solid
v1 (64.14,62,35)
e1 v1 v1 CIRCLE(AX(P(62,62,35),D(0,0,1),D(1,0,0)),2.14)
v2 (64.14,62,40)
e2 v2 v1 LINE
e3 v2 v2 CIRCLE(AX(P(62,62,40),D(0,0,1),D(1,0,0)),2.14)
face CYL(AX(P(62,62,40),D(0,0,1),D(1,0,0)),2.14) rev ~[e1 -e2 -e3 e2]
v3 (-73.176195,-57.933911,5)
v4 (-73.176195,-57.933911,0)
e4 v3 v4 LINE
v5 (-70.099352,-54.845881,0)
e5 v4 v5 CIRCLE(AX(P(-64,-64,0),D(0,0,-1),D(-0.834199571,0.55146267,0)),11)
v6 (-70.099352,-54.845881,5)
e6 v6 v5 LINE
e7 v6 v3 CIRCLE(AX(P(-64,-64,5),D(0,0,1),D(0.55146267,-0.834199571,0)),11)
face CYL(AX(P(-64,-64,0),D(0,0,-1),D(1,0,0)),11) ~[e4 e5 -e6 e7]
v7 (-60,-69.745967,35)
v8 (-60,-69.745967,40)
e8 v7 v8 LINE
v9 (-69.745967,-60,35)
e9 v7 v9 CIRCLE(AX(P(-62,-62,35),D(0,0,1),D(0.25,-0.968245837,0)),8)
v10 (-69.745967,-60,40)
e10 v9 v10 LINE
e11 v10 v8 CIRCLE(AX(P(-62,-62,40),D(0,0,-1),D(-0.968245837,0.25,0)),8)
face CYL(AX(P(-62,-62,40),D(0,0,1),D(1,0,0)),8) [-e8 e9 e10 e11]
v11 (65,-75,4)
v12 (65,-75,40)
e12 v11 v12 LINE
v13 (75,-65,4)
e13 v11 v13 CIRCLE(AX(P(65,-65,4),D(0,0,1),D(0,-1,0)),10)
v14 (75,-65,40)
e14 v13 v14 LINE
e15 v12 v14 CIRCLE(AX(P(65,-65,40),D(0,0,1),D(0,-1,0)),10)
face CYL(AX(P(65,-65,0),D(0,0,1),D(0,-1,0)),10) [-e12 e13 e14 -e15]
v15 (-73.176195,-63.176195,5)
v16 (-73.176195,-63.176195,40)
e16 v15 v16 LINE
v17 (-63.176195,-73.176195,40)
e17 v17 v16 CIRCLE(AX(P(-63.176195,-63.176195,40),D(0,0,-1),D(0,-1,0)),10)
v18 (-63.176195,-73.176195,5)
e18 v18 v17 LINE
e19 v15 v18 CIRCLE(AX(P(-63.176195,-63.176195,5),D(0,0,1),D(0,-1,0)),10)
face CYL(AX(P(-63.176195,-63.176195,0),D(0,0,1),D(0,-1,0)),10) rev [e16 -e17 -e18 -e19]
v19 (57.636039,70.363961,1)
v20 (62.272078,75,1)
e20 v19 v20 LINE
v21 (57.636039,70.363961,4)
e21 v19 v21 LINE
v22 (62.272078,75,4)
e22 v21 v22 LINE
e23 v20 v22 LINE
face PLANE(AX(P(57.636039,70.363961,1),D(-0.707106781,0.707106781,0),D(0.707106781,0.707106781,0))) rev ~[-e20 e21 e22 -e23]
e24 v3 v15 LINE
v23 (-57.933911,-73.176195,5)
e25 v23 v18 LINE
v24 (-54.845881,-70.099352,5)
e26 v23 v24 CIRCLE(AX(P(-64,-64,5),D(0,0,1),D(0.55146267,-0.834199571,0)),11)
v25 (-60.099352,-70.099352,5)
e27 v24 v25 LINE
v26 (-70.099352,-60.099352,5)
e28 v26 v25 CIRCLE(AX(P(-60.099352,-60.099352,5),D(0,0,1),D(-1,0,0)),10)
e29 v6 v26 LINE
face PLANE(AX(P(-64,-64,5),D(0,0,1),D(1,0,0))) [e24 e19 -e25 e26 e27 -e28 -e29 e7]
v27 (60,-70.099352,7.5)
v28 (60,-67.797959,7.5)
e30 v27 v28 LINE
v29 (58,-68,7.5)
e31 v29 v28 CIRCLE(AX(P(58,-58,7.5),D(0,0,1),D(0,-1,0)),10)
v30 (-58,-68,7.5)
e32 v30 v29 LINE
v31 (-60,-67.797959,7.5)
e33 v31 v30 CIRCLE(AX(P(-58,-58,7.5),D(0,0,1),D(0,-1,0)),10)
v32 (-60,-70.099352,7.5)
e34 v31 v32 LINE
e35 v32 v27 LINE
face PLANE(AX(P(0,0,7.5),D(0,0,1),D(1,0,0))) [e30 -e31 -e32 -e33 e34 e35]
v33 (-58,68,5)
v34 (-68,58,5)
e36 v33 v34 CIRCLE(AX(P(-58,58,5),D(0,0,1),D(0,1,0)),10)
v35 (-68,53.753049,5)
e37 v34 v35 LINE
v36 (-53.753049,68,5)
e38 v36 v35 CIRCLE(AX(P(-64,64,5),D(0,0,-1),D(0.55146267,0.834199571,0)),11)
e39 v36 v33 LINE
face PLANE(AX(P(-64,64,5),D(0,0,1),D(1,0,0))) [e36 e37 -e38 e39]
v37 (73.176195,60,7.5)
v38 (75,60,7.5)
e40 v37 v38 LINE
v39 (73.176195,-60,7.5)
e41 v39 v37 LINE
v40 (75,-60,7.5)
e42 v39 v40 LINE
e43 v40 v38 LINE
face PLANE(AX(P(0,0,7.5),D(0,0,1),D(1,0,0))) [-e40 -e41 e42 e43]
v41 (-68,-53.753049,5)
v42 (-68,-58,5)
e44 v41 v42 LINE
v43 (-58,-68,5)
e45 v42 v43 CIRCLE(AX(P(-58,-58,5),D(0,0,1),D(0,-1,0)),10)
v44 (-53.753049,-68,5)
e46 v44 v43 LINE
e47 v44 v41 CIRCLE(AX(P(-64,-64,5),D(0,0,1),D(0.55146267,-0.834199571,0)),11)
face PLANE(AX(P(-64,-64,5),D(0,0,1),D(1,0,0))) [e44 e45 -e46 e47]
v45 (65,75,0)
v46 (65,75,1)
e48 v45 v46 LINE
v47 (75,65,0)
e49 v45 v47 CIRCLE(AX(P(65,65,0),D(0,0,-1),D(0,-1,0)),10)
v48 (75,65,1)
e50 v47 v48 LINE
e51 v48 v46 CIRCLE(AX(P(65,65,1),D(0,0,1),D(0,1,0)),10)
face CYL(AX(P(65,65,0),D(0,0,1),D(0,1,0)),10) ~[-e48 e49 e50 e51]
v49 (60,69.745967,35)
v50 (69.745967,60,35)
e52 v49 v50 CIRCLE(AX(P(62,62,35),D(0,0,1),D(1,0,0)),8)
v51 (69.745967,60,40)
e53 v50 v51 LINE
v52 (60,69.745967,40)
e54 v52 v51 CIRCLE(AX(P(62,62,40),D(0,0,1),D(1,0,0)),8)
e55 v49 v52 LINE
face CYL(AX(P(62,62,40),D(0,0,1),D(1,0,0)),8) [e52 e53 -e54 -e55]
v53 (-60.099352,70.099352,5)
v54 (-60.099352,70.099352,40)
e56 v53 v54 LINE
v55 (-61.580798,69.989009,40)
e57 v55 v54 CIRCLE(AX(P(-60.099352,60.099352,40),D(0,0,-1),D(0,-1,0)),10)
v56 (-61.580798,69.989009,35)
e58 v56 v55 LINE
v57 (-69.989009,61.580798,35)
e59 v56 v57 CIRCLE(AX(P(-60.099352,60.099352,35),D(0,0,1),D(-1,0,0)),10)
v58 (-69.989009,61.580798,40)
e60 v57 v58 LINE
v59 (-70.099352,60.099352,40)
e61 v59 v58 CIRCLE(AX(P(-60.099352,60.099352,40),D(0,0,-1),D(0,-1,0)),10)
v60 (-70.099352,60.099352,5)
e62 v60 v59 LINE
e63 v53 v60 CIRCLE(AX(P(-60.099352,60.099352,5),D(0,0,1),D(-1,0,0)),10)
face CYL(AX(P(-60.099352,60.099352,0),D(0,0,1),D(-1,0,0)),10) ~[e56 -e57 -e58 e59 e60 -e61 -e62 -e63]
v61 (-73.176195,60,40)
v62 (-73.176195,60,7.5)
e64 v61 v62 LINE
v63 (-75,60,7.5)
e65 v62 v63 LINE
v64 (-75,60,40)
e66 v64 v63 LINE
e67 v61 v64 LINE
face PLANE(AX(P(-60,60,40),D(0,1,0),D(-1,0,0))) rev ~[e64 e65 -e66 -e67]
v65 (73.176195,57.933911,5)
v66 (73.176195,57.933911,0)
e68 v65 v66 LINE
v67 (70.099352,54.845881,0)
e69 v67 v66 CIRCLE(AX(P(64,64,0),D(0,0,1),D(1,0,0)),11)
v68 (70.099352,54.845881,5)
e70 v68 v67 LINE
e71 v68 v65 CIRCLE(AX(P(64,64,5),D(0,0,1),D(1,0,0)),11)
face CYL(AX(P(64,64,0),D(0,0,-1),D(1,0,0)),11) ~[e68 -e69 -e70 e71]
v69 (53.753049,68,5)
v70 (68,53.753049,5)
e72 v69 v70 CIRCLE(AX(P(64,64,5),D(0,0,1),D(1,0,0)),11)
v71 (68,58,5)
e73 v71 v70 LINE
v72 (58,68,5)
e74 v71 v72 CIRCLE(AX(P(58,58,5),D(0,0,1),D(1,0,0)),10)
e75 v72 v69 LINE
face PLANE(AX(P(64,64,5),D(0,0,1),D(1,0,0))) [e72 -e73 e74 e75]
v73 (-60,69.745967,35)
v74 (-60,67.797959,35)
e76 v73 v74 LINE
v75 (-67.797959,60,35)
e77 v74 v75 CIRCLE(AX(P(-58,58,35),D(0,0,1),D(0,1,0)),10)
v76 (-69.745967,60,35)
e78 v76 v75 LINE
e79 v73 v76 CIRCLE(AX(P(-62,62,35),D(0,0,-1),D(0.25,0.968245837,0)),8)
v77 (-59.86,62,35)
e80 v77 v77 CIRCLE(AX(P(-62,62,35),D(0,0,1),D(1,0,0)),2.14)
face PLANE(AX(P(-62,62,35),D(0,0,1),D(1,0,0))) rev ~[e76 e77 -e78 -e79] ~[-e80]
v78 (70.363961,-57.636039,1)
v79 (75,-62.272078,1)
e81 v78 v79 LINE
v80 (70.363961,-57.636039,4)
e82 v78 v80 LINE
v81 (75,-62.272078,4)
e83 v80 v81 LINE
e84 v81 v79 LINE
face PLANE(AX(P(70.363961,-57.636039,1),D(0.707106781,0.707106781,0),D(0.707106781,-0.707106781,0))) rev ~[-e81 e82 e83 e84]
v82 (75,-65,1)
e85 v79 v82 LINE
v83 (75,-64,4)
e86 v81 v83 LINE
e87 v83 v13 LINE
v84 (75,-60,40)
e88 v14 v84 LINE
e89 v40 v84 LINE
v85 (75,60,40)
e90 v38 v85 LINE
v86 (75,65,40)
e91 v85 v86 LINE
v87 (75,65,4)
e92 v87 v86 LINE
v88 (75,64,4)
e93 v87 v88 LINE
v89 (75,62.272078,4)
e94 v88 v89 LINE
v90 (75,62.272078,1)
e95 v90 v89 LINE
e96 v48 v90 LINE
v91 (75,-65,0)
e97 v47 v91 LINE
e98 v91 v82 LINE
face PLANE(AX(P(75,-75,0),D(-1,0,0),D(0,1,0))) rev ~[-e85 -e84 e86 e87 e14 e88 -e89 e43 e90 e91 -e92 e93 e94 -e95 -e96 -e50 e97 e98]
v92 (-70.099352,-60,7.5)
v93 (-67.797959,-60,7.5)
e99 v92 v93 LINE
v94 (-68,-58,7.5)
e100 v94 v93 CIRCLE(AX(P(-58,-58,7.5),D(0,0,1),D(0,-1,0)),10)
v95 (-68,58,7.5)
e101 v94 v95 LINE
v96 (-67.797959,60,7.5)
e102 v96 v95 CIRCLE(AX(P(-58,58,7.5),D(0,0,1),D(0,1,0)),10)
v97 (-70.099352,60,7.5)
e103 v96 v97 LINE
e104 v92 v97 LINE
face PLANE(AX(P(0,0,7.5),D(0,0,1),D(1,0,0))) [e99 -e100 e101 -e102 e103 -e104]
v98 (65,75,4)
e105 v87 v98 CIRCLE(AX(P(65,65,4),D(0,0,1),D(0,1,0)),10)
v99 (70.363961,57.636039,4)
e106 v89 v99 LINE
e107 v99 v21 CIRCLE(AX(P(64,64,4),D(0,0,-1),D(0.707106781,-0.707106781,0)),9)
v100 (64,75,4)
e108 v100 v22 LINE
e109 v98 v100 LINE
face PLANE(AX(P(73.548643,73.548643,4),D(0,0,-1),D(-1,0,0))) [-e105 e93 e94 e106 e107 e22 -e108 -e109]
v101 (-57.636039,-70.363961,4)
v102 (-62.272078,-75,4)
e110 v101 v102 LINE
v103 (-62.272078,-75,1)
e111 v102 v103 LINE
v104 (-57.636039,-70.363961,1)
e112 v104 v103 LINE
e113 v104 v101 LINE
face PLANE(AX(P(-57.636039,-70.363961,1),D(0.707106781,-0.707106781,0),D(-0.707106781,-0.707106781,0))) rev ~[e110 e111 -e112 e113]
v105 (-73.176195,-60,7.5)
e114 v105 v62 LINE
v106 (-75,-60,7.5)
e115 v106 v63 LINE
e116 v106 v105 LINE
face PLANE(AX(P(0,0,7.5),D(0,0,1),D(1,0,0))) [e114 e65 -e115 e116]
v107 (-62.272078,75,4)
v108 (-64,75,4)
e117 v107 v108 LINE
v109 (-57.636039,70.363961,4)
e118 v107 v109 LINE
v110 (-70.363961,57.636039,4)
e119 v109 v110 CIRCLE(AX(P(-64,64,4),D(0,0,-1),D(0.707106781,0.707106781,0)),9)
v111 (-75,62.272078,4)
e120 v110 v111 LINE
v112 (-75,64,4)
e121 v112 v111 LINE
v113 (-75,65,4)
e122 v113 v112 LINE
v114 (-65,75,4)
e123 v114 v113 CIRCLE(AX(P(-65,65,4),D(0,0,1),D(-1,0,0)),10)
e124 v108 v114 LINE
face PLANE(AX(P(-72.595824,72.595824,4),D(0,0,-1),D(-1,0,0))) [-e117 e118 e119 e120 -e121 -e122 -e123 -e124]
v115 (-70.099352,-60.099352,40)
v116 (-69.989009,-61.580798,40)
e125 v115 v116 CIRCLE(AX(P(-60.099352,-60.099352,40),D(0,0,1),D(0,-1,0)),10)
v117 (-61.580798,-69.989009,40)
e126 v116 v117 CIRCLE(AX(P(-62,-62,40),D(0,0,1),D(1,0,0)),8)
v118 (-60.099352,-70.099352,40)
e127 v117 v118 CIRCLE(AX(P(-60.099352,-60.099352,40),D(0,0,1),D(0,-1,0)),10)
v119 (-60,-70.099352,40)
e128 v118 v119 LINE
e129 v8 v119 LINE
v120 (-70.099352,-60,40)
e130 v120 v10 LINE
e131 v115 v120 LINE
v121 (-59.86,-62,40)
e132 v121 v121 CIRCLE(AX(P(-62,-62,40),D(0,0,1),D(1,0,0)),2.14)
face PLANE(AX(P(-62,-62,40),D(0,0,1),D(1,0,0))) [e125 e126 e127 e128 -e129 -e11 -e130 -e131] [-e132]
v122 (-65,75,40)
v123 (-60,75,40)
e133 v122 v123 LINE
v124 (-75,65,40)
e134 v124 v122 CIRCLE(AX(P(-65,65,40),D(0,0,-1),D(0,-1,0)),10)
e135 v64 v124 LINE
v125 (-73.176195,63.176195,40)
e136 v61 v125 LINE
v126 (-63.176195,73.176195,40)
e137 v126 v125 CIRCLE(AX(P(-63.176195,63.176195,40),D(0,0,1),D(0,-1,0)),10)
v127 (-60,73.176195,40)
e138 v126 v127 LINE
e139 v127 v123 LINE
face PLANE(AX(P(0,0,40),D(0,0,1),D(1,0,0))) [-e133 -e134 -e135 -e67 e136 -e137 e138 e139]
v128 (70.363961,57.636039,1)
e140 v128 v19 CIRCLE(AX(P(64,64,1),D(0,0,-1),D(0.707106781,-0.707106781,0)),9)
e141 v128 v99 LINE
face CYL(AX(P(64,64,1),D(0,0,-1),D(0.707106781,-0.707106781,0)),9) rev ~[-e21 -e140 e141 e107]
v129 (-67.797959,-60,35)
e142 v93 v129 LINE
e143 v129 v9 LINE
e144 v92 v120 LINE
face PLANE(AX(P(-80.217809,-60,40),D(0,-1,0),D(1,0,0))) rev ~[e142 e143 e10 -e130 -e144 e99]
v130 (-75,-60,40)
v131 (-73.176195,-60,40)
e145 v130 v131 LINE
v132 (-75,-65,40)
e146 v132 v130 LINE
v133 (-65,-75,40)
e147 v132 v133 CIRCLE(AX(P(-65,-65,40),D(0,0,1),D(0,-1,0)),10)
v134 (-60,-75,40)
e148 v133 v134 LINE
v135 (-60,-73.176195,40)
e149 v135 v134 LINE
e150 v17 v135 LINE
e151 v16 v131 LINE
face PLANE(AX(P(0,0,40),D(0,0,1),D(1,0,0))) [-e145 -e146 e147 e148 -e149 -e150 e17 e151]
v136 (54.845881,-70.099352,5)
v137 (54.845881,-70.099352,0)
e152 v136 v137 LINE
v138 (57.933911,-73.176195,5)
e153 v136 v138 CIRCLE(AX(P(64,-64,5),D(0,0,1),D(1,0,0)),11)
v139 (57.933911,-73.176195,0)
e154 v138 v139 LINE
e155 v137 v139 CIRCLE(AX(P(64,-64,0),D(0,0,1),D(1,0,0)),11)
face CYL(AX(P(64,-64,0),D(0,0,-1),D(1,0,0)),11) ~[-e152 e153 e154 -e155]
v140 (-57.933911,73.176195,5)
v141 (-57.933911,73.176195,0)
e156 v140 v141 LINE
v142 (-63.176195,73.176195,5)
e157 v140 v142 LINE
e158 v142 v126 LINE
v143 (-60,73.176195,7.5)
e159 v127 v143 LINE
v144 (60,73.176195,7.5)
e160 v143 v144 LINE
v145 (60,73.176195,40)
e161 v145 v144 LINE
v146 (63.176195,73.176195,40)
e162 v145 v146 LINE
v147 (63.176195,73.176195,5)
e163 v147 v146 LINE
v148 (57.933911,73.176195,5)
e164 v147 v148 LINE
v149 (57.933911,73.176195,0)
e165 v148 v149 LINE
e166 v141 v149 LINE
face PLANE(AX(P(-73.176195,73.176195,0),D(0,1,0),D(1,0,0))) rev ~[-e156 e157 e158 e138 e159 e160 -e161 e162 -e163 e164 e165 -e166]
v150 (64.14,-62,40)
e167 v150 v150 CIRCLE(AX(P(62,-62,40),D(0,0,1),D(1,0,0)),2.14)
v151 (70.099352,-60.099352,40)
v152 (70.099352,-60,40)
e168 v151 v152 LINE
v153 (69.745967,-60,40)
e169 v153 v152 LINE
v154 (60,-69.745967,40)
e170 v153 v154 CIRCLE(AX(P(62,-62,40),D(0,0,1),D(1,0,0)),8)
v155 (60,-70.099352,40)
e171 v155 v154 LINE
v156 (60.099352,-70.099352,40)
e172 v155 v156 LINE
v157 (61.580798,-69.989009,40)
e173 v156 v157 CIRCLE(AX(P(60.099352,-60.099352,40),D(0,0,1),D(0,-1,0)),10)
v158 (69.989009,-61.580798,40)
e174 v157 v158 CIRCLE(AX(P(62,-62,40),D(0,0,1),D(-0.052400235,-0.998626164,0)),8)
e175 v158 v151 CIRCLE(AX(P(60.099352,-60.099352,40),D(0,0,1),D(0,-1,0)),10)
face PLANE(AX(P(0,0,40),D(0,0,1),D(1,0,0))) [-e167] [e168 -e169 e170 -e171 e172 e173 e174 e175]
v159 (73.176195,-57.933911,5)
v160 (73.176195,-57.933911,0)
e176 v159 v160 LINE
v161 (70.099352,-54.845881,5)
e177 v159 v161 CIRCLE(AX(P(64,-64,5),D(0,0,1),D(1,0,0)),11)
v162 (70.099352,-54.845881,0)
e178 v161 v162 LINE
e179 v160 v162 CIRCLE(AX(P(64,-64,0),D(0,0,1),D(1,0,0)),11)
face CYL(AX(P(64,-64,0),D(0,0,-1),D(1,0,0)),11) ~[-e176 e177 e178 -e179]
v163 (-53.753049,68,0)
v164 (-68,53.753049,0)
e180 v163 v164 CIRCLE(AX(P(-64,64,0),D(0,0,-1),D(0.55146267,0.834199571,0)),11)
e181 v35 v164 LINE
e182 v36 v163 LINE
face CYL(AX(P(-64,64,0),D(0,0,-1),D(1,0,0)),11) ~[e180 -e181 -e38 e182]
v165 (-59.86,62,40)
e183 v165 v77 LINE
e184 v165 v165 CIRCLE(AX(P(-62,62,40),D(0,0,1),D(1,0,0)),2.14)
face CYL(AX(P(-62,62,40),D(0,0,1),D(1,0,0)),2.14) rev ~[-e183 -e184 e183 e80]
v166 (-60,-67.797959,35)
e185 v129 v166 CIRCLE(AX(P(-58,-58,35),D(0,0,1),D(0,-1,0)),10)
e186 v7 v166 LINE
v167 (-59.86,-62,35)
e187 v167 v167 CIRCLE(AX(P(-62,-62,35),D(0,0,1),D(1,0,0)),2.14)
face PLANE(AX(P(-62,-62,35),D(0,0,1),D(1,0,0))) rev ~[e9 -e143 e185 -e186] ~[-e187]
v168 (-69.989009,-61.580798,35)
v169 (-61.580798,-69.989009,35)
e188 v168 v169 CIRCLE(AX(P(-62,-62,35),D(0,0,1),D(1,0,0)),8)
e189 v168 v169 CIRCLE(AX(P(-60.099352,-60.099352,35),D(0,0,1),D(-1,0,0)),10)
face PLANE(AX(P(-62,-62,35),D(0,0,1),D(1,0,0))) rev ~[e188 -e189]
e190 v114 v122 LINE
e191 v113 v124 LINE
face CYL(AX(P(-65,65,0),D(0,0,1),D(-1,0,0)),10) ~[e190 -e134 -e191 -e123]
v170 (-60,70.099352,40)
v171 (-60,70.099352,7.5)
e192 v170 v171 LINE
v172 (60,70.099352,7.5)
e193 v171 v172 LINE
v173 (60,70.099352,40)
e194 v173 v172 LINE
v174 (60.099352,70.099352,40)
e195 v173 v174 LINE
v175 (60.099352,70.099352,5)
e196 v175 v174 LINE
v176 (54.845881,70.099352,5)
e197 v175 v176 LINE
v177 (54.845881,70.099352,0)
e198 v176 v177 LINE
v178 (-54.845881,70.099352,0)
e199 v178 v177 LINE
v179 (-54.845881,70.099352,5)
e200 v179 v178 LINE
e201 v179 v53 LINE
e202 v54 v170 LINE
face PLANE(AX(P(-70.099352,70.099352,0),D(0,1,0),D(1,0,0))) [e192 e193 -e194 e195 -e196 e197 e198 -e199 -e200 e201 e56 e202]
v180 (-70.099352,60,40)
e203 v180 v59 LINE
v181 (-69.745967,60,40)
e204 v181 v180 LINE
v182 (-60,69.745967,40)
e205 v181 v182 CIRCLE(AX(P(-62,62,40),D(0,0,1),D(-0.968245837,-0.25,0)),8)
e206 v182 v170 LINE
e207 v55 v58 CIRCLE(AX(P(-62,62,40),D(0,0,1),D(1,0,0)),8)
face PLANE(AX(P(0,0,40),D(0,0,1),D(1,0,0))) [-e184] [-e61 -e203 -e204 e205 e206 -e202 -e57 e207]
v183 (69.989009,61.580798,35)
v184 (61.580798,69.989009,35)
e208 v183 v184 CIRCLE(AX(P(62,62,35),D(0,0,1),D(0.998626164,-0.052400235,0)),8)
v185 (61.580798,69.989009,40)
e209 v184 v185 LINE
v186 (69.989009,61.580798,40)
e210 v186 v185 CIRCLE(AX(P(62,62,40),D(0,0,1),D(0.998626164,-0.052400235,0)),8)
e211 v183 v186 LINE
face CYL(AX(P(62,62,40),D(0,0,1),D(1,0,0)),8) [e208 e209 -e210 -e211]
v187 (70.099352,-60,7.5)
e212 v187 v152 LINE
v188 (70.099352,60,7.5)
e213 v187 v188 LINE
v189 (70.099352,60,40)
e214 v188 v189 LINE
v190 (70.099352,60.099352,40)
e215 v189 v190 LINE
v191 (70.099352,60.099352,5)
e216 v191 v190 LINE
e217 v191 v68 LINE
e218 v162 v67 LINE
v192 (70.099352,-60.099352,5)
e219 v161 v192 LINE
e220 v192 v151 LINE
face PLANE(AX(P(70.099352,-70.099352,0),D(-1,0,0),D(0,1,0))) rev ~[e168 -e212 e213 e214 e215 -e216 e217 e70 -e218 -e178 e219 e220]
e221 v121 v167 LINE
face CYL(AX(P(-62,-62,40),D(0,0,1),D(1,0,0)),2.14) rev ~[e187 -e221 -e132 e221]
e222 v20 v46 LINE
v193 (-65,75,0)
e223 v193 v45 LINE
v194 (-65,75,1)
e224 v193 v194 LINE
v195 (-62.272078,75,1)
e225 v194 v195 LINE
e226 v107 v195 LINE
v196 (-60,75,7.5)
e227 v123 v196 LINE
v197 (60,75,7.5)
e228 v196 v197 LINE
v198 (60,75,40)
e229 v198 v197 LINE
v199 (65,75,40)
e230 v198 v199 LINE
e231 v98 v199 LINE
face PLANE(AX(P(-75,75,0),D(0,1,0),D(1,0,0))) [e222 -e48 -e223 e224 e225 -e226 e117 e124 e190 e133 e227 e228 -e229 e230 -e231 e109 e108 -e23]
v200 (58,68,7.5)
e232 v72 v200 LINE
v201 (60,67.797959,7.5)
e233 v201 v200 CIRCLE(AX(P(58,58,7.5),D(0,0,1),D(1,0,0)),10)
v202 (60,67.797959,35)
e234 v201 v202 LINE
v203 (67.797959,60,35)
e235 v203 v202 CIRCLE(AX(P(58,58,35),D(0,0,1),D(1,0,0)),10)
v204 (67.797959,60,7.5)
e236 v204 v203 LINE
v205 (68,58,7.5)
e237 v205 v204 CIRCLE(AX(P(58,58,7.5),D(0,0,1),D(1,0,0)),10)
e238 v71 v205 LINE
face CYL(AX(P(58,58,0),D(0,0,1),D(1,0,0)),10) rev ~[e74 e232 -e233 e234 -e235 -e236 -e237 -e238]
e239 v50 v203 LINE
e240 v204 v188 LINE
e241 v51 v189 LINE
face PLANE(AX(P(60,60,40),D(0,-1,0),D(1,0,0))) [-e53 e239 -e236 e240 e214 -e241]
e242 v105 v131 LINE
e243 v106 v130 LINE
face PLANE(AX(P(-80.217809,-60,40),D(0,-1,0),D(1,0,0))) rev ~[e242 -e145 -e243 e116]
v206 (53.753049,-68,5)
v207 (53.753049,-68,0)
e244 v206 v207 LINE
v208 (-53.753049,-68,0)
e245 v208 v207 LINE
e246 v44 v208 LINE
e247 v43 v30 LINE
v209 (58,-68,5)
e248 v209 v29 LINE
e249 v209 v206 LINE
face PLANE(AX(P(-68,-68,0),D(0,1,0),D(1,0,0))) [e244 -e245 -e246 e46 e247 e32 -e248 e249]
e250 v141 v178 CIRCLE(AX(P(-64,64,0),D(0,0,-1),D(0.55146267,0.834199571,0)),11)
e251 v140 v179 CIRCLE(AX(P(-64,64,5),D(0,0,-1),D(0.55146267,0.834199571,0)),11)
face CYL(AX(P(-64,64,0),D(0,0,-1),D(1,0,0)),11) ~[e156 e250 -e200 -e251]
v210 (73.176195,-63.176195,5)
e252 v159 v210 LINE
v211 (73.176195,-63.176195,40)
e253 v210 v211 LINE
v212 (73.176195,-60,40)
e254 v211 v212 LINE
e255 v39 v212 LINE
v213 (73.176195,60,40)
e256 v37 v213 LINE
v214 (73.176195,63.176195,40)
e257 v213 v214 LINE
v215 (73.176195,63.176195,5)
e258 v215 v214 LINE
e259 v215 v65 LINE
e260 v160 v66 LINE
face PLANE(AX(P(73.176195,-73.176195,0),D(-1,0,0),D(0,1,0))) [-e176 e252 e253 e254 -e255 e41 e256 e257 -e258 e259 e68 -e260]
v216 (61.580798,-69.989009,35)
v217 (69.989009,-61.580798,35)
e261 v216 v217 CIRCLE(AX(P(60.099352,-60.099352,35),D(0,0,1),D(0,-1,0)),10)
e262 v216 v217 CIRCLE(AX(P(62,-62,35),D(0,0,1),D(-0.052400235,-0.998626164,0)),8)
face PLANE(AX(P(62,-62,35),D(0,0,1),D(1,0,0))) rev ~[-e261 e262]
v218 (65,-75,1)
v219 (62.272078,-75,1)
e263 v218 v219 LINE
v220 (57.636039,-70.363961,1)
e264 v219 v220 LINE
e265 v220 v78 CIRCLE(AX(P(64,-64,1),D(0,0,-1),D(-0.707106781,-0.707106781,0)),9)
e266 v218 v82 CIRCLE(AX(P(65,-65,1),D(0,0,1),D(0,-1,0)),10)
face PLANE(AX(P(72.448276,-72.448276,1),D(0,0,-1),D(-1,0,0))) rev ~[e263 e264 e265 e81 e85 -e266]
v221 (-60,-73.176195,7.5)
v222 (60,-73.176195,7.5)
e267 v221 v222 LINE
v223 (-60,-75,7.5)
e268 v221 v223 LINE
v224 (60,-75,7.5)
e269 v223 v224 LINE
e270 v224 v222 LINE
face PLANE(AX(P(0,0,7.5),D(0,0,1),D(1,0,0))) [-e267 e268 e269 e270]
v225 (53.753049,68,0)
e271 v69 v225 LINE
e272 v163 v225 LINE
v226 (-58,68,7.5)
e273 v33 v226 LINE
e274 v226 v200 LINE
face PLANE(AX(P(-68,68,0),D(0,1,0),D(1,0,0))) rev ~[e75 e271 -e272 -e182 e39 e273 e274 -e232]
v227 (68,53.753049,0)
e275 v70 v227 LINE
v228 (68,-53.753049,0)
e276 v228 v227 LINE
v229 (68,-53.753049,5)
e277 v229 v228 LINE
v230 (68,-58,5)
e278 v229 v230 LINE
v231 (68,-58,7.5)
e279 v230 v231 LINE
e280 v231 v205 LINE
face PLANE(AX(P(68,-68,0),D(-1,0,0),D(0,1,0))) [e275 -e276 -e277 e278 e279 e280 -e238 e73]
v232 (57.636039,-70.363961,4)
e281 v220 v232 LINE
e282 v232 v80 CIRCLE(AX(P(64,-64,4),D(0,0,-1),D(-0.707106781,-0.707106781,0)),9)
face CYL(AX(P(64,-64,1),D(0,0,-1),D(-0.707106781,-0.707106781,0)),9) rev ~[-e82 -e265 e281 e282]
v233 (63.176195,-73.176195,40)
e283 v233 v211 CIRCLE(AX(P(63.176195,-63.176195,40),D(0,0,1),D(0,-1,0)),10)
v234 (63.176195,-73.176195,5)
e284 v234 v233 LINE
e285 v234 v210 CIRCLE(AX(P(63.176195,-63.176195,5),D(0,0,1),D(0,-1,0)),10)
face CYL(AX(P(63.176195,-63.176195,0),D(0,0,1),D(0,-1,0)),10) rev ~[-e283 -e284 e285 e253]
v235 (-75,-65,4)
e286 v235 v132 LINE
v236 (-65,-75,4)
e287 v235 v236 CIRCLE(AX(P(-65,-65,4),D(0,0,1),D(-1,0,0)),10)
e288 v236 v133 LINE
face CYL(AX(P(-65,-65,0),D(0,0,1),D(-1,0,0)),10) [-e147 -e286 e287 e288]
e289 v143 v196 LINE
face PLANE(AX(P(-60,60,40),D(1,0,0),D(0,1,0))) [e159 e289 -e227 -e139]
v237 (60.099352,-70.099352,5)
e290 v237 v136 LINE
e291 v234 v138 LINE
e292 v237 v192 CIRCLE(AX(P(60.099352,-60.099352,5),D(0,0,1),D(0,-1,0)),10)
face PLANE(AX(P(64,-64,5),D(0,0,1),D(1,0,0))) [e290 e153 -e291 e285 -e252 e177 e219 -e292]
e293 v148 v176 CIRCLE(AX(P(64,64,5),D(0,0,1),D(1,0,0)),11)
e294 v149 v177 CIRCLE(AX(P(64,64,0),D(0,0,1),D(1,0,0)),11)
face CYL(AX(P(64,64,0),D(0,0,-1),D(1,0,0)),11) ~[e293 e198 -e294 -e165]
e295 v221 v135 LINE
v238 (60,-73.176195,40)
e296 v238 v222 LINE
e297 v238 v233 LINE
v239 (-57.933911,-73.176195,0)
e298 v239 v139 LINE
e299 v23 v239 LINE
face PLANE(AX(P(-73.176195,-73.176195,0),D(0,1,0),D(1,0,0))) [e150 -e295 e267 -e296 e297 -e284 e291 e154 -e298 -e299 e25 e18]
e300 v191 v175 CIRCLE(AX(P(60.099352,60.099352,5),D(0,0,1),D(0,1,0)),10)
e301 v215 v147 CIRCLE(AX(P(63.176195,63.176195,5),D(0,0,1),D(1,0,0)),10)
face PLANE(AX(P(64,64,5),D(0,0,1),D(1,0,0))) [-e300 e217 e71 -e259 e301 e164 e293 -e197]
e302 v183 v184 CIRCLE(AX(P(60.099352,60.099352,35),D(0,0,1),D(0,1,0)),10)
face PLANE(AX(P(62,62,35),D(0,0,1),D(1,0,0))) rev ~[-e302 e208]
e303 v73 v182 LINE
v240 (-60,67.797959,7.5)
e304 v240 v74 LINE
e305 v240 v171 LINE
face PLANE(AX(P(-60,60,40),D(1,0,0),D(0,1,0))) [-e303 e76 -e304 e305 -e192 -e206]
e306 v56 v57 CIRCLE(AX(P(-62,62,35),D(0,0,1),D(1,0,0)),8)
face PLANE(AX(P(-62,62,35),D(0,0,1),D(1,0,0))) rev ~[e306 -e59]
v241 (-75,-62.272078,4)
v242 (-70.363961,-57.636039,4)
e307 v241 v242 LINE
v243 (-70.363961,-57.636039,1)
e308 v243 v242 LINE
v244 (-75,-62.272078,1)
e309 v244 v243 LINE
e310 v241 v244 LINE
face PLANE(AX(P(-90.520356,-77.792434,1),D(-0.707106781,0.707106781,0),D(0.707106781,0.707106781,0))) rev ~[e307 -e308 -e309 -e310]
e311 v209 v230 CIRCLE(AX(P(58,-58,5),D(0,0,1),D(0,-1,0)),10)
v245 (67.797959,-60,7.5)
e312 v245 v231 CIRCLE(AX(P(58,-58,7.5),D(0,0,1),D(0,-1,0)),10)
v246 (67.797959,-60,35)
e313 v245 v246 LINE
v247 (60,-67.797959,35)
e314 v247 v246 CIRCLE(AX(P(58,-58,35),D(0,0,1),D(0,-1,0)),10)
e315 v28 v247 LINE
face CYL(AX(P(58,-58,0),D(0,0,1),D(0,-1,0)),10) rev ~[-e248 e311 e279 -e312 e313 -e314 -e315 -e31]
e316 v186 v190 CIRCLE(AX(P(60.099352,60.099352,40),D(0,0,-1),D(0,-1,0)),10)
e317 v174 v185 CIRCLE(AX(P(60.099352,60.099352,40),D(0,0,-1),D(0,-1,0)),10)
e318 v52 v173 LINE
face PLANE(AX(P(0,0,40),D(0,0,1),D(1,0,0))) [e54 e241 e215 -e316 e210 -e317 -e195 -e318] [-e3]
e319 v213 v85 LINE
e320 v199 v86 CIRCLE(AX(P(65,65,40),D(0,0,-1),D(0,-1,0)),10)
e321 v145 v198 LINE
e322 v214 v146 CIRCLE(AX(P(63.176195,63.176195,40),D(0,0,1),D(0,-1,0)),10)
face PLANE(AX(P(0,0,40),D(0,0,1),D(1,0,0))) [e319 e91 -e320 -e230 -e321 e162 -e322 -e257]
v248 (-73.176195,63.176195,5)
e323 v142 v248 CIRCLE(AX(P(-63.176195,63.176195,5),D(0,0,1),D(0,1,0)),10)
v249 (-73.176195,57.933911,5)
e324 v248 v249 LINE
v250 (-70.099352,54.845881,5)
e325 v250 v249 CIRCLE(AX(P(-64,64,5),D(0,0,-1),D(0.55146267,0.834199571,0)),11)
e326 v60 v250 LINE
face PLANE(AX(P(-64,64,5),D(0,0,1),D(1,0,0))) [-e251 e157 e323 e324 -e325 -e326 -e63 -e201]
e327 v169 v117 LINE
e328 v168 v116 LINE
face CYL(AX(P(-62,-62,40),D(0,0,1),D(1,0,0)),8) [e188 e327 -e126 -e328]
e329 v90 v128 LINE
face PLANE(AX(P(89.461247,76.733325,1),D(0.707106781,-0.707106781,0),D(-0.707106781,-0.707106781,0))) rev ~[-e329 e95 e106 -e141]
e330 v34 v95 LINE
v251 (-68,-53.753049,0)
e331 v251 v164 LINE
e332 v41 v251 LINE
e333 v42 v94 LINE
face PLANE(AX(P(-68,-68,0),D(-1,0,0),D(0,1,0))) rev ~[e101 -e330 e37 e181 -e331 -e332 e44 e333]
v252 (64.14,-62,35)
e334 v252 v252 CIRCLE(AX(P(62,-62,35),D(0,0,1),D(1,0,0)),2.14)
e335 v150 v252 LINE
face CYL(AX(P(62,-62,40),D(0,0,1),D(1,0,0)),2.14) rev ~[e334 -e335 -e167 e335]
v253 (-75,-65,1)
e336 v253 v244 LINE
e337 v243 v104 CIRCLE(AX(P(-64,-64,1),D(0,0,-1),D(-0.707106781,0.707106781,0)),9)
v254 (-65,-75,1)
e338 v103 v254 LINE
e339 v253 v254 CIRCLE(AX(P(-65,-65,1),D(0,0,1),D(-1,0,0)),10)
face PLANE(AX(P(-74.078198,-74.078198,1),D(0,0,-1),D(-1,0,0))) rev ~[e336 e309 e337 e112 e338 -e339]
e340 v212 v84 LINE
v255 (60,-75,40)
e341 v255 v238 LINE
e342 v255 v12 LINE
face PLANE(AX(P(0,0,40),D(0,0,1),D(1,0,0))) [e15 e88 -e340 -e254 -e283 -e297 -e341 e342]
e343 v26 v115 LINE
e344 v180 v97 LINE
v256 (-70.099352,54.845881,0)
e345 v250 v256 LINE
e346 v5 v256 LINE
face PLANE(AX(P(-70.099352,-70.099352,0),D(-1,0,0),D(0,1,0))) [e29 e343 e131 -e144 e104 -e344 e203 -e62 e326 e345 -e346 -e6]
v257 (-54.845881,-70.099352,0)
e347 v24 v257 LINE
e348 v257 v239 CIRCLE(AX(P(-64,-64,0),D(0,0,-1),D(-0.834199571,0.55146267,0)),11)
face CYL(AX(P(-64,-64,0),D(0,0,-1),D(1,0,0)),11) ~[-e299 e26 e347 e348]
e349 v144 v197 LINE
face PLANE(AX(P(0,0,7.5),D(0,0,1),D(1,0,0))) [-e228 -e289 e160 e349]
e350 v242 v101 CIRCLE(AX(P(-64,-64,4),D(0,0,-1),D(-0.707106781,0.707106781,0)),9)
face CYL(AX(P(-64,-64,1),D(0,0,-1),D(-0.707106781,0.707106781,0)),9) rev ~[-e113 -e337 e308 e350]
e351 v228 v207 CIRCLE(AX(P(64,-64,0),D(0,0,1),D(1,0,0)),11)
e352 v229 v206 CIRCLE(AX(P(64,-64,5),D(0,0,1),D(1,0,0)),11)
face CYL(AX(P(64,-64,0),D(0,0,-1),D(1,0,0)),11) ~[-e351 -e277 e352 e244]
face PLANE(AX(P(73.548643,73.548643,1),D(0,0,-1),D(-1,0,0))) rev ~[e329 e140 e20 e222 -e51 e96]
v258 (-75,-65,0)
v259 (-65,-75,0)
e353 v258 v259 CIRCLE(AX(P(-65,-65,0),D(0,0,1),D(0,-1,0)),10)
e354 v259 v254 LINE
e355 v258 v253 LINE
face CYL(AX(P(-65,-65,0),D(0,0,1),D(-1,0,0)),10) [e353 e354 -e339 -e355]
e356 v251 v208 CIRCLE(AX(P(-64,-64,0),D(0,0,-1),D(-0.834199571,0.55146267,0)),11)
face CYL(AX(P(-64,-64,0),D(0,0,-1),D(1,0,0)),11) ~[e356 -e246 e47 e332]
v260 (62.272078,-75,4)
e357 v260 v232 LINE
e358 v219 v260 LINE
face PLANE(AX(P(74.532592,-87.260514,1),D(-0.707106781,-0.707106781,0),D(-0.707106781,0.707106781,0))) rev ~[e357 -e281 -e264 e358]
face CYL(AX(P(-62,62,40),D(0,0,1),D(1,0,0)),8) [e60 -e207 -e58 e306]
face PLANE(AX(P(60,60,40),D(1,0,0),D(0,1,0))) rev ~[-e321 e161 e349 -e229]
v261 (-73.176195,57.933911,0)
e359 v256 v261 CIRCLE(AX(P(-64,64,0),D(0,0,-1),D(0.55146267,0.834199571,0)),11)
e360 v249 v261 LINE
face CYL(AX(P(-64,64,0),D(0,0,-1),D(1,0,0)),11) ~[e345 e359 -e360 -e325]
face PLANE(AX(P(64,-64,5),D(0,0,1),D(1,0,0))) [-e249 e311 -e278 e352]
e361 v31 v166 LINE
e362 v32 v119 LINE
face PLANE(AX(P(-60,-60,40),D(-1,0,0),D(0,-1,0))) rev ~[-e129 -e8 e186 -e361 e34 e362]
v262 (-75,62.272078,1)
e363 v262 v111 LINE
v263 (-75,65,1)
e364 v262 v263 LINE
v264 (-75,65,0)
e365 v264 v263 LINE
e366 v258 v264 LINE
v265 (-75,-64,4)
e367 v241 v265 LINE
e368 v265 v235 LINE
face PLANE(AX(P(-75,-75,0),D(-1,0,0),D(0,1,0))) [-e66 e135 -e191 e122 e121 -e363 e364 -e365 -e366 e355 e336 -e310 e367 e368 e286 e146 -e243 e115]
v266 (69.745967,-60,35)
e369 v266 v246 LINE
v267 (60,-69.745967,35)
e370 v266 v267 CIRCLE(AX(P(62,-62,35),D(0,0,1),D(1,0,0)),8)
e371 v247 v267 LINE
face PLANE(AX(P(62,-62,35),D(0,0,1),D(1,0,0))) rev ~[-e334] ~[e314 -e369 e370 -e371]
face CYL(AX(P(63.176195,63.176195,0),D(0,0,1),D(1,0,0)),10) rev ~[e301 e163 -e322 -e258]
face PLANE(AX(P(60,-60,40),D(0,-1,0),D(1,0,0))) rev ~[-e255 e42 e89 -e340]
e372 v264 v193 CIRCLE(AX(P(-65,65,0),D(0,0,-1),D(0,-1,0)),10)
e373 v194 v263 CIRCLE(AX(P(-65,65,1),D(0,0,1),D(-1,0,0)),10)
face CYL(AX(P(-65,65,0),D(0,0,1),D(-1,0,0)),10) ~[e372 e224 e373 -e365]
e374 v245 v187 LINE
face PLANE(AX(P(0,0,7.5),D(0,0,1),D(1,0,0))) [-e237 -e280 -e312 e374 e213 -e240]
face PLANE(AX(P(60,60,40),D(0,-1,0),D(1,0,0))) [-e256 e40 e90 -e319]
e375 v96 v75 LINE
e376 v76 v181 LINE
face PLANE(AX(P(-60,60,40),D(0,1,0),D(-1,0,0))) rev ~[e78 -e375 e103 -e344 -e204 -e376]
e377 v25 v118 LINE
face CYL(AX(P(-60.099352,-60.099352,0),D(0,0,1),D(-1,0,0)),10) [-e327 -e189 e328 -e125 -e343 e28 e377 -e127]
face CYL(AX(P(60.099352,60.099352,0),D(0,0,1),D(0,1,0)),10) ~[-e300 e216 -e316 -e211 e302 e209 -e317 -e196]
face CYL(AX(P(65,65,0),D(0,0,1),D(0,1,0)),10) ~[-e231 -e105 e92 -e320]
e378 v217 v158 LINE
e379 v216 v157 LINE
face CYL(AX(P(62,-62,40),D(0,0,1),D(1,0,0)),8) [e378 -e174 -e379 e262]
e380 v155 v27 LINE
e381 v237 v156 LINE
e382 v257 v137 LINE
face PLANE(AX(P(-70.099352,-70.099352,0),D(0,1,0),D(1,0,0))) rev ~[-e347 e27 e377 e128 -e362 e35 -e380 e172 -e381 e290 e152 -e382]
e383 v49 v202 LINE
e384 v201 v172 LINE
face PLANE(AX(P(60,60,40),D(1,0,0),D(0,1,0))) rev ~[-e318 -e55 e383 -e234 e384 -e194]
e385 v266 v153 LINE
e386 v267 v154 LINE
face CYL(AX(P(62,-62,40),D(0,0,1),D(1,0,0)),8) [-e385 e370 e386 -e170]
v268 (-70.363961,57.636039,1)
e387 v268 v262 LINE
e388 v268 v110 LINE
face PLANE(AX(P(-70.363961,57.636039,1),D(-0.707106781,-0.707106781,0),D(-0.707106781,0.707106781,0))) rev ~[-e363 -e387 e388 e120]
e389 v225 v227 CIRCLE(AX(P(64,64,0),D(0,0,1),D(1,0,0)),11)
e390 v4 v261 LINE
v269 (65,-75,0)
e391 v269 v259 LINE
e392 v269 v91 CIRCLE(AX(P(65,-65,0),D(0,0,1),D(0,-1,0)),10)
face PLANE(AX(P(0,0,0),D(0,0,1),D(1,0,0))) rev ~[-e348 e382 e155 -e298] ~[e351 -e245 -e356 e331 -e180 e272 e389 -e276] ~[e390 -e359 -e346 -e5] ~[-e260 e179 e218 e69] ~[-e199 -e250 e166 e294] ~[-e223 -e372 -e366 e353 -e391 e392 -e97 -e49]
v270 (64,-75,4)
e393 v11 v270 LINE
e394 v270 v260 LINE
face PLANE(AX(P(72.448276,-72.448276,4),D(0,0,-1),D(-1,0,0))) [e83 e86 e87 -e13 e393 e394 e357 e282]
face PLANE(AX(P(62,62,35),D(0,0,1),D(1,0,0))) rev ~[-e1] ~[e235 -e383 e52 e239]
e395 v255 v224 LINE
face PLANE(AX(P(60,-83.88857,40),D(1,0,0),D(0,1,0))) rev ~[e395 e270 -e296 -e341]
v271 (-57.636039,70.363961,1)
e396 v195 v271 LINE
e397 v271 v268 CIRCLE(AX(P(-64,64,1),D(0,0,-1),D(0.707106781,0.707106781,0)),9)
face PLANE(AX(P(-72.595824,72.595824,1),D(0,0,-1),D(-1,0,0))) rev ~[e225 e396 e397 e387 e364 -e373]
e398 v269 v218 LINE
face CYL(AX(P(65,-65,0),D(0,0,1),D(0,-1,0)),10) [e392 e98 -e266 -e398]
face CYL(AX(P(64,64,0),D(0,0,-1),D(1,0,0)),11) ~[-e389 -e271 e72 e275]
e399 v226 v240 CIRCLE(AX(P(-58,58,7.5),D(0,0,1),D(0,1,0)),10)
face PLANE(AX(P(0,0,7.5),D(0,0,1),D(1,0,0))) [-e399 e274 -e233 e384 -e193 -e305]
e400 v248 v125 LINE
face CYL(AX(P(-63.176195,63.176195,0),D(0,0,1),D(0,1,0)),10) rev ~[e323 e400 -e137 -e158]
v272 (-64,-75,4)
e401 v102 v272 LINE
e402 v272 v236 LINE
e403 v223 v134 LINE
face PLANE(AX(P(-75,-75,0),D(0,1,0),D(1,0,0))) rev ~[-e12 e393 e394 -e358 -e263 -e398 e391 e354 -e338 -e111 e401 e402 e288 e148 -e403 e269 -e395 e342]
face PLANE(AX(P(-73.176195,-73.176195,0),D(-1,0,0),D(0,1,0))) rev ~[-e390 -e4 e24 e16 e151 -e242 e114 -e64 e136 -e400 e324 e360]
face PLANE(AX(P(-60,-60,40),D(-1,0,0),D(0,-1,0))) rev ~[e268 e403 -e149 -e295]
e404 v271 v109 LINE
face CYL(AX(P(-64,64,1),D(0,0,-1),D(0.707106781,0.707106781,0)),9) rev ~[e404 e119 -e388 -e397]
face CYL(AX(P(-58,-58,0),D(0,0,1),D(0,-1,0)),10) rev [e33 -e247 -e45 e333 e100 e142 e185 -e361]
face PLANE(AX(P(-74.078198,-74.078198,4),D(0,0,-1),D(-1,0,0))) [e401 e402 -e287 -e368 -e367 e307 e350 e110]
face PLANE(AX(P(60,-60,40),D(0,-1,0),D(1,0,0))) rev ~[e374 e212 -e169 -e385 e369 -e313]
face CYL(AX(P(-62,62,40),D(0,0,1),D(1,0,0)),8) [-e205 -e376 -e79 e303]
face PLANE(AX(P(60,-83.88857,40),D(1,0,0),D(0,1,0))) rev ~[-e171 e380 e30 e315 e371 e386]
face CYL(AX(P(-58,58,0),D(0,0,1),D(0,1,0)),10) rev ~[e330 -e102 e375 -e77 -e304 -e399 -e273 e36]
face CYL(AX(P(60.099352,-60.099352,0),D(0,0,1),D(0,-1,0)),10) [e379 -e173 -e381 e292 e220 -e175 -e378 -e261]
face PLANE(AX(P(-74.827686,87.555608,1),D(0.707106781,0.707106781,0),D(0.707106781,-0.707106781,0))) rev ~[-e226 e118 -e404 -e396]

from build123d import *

# Parameters (mm, degrees)
SKETCH1_R             = 11
BOSS_EXTRUDE1_DEPTH   = 5
BOSS_EXTRUDE1_2_DEPTH = 5
BOSS_EXTRUDE1_3_DEPTH = 5
BOSS_EXTRUDE1_4_DEPTH = 5
BOSS_EXTRUDE2_START   = 1
BOSS_EXTRUDE2_DEPTH   = 3
BOSS_EXTRUDE2_2_DEPTH = 3
BOSS_EXTRUDE2_3_DEPTH = 3
BOSS_EXTRUDE2_4_DEPTH = 3
SKETCH3_W             = 150
SKETCH3_H             = 150
SKETCH3_W_2           = 146.352390556
SKETCH3_H_2           = 146.352390556
BOSS_EXTRUDE4_DEPTH   = 40
SKETCH3_W_3           = 140.198704382
SKETCH3_H_3           = 140.198704382
SKETCH3_W_4           = 136
SKETCH3_H_4           = 136
BOSS_EXTRUDE4_2_DEPTH = 40
FILLET1_R             = 10
FILLET2_R             = 10
BOSS_EXTRUDE6_START   = 40
SKETCH6_W             = 120
SKETCH6_H             = 120
SKETCH6_H_2           = 23.888569694
SKETCH6_W_2           = 20.217809466
BOSS_EXTRUDE6_DEPTH   = 32.5
SKETCH7_R             = 8
SKETCH7_R_2           = 2.14
BOSS_EXTRUDE7_DEPTH   = 5


with BuildPart() as part:
    # Sketch1 → Boss-Extrude1 (new body)
    with BuildSketch(Plane.XY):
        with Locations((-64, -64)):
            Circle(SKETCH1_R)
    extrude(amount=BOSS_EXTRUDE1_DEPTH)


with BuildPart() as body_2:
    # Sketch1 → Boss-Extrude1 2 (new body)
    with BuildSketch(Plane.XY):
        with Locations((-64, 64)):
            Circle(SKETCH1_R)
    extrude(amount=BOSS_EXTRUDE1_2_DEPTH)


with BuildPart() as body_3:
    # Sketch1 → Boss-Extrude1 3 (new body)
    with BuildSketch(Plane.XY):
        with Locations((64, -64)):
            Circle(SKETCH1_R)
    extrude(amount=BOSS_EXTRUDE1_3_DEPTH)


with BuildPart() as body_4:
    # Sketch1 → Boss-Extrude1 4 (new body)
    with BuildSketch(Plane.XY):
        with Locations((64, 64)):
            Circle(SKETCH1_R)
    extrude(amount=BOSS_EXTRUDE1_4_DEPTH)


with BuildPart() as body_5:
    # Sketch2 → Boss-Extrude2 (new body)
    with BuildSketch(Plane.XY.offset(BOSS_EXTRUDE2_START)):
        with BuildLine():
            Line((-57.636038969, -70.363961031), (-77.792434068, -90.52035613))
            ThreePointArc((-77.792434068, -90.52035613), (-90.52035613, -90.52035613), (-90.52035613, -77.792434068))
            Line((-90.52035613, -77.792434068), (-70.363961031, -57.636038969))
            ThreePointArc((-70.363961031, -57.636038969), (-57.636038969, -57.636038969), (-57.636038969, -70.363961031))
        make_face()
    extrude(amount=BOSS_EXTRUDE2_DEPTH)


with BuildPart() as body_6:
    # Sketch2 → Boss-Extrude2 2 (new body)
    with BuildSketch(Plane.XY.offset(BOSS_EXTRUDE2_START)):
        with BuildLine():
            Line((-70.363961031, 57.636038969), (-87.555608123, 74.827686061))
            ThreePointArc((-87.555608123, 74.827686061), (-87.555608123, 87.555608123), (-74.827686061, 87.555608123))
            Line((-74.827686061, 87.555608123), (-57.636038969, 70.363961031))
            ThreePointArc((-57.636038969, 70.363961031), (-57.636038969, 57.636038969), (-70.363961031, 57.636038969))
        make_face()
    extrude(amount=BOSS_EXTRUDE2_2_DEPTH)


with BuildPart() as body_7:
    # Sketch2 → Boss-Extrude2 3 (new body)
    with BuildSketch(Plane.XY.offset(BOSS_EXTRUDE2_START)):
        with BuildLine():
            Line((70.363961031, -57.636038969), (87.260513721, -74.532591659))
            ThreePointArc((87.260513721, -74.532591659), (87.260513721, -87.260513721), (74.532591659, -87.260513721))
            Line((74.532591659, -87.260513721), (57.636038969, -70.363961031))
            ThreePointArc((57.636038969, -70.363961031), (57.636038969, -57.636038969), (70.363961031, -57.636038969))
        make_face()
    extrude(amount=BOSS_EXTRUDE2_3_DEPTH)


with BuildPart() as body_8:
    # Sketch2 → Boss-Extrude2 4 (new body)
    with BuildSketch(Plane.XY.offset(BOSS_EXTRUDE2_START)):
        with BuildLine():
            Line((57.636038969, 70.363961031), (76.733324594, 89.461246655))
            ThreePointArc((76.733324594, 89.461246655), (89.461246655, 89.461246655), (89.461246655, 76.733324594))
            Line((89.461246655, 76.733324594), (70.363961031, 57.636038969))
            ThreePointArc((70.363961031, 57.636038969), (57.636038969, 57.636038969), (57.636038969, 70.363961031))
        make_face()
    extrude(amount=BOSS_EXTRUDE2_4_DEPTH)


with BuildPart() as body_9:
    # Sketch3 → Boss-Extrude4 (new body)
    with BuildSketch(Plane.XY):
        Rectangle(SKETCH3_W, SKETCH3_H)
        Rectangle(SKETCH3_W_2, SKETCH3_H_2, mode=Mode.SUBTRACT)
    extrude(amount=BOSS_EXTRUDE4_DEPTH)

    # Fillet1
    fillet1_edges = [body_9.edges().sort_by_distance(p)[0] for p in [
        (-75, -75, 20),
        (-75, 75, 20),
        (75, 75, 20),
        (75, -75, 20),
        (-73.176195278, -73.176195278, 20),
        (73.176195278, -73.176195278, 20),
        (73.176195278, 73.176195278, 20),
        (-73.176195278, 73.176195278, 20),
    ]]
    fillet(fillet1_edges, radius=FILLET1_R)


with BuildPart() as body_10:
    # Sketch3 → Boss-Extrude4 2 (new body)
    with BuildSketch(Plane.XY):
        Rectangle(SKETCH3_W_3, SKETCH3_H_3)
        Rectangle(SKETCH3_W_4, SKETCH3_H_4, mode=Mode.SUBTRACT)
    extrude(amount=BOSS_EXTRUDE4_2_DEPTH)

    # Fillet2
    fillet2_edges = [body_10.edges().sort_by_distance(p)[0] for p in [
        (70.099352191, 70.099352191, 20),
        (70.099352191, -70.099352191, 20),
        (-70.099352191, -70.099352191, 20),
        (-70.099352191, 70.099352191, 20),
        (-68, -68, 20),
        (68, -68, 20),
        (68, 68, 20),
        (-68, 68, 20),
    ]]
    fillet(fillet2_edges, radius=FILLET2_R)


with BuildPart() as part_1:
    add(part.part)

    # Combine4: union body 4, body 3, body 2, body 9, body 10
    add(body_4.part)
    add(body_3.part)
    add(body_2.part)
    add(body_9.part)
    add(body_10.part)

    # Combine8: cut body 7, body 5, body 6, body 8
    add(body_7.part, mode=Mode.SUBTRACT)
    add(body_5.part, mode=Mode.SUBTRACT)
    add(body_6.part, mode=Mode.SUBTRACT)
    add(body_8.part, mode=Mode.SUBTRACT)


with BuildPart() as body_2_2:
    # Sketch6 → Boss-Extrude6 (new body)
    with BuildSketch(Plane.XY.offset(BOSS_EXTRUDE6_START)):
        Rectangle(SKETCH6_W, SKETCH6_H)
        with Locations((0, -71.944284847)):
            Rectangle(SKETCH6_W, SKETCH6_H_2)
        with Locations((-70.108904733, 0)):
            Rectangle(SKETCH6_W_2, SKETCH6_H)
        with Locations((0, 71.944284847)):
            Rectangle(SKETCH6_W, SKETCH6_H_2)
        with Locations((70.108904733, 0)):
            Rectangle(SKETCH6_W_2, SKETCH6_H)
    extrude(amount=-BOSS_EXTRUDE6_DEPTH)


with BuildPart() as part_2:
    add(part_1.part)

    # Combine9: cut body 2 2
    add(body_2_2.part, mode=Mode.SUBTRACT)

    # Sketch7 → Boss-Extrude7 (add)
    with BuildSketch(Plane.XY.offset(40)):
        with Locations((-62, -62)):
            Circle(SKETCH7_R)
        with Locations((-62, -62)):
            Circle(SKETCH7_R_2, mode=Mode.SUBTRACT)
        with Locations((-62, 62)):
            Circle(SKETCH7_R)
        with Locations((-62, 62)):
            Circle(SKETCH7_R_2, mode=Mode.SUBTRACT)
        with Locations((62, -62)):
            Circle(SKETCH7_R)
        with Locations((62, -62)):
            Circle(SKETCH7_R_2, mode=Mode.SUBTRACT)
        with Locations((62, 62)):
            Circle(SKETCH7_R)
        with Locations((62, 62)):
            Circle(SKETCH7_R_2, mode=Mode.SUBTRACT)
    extrude(amount=-BOSS_EXTRUDE7_DEPTH)


solid = part_2.part
